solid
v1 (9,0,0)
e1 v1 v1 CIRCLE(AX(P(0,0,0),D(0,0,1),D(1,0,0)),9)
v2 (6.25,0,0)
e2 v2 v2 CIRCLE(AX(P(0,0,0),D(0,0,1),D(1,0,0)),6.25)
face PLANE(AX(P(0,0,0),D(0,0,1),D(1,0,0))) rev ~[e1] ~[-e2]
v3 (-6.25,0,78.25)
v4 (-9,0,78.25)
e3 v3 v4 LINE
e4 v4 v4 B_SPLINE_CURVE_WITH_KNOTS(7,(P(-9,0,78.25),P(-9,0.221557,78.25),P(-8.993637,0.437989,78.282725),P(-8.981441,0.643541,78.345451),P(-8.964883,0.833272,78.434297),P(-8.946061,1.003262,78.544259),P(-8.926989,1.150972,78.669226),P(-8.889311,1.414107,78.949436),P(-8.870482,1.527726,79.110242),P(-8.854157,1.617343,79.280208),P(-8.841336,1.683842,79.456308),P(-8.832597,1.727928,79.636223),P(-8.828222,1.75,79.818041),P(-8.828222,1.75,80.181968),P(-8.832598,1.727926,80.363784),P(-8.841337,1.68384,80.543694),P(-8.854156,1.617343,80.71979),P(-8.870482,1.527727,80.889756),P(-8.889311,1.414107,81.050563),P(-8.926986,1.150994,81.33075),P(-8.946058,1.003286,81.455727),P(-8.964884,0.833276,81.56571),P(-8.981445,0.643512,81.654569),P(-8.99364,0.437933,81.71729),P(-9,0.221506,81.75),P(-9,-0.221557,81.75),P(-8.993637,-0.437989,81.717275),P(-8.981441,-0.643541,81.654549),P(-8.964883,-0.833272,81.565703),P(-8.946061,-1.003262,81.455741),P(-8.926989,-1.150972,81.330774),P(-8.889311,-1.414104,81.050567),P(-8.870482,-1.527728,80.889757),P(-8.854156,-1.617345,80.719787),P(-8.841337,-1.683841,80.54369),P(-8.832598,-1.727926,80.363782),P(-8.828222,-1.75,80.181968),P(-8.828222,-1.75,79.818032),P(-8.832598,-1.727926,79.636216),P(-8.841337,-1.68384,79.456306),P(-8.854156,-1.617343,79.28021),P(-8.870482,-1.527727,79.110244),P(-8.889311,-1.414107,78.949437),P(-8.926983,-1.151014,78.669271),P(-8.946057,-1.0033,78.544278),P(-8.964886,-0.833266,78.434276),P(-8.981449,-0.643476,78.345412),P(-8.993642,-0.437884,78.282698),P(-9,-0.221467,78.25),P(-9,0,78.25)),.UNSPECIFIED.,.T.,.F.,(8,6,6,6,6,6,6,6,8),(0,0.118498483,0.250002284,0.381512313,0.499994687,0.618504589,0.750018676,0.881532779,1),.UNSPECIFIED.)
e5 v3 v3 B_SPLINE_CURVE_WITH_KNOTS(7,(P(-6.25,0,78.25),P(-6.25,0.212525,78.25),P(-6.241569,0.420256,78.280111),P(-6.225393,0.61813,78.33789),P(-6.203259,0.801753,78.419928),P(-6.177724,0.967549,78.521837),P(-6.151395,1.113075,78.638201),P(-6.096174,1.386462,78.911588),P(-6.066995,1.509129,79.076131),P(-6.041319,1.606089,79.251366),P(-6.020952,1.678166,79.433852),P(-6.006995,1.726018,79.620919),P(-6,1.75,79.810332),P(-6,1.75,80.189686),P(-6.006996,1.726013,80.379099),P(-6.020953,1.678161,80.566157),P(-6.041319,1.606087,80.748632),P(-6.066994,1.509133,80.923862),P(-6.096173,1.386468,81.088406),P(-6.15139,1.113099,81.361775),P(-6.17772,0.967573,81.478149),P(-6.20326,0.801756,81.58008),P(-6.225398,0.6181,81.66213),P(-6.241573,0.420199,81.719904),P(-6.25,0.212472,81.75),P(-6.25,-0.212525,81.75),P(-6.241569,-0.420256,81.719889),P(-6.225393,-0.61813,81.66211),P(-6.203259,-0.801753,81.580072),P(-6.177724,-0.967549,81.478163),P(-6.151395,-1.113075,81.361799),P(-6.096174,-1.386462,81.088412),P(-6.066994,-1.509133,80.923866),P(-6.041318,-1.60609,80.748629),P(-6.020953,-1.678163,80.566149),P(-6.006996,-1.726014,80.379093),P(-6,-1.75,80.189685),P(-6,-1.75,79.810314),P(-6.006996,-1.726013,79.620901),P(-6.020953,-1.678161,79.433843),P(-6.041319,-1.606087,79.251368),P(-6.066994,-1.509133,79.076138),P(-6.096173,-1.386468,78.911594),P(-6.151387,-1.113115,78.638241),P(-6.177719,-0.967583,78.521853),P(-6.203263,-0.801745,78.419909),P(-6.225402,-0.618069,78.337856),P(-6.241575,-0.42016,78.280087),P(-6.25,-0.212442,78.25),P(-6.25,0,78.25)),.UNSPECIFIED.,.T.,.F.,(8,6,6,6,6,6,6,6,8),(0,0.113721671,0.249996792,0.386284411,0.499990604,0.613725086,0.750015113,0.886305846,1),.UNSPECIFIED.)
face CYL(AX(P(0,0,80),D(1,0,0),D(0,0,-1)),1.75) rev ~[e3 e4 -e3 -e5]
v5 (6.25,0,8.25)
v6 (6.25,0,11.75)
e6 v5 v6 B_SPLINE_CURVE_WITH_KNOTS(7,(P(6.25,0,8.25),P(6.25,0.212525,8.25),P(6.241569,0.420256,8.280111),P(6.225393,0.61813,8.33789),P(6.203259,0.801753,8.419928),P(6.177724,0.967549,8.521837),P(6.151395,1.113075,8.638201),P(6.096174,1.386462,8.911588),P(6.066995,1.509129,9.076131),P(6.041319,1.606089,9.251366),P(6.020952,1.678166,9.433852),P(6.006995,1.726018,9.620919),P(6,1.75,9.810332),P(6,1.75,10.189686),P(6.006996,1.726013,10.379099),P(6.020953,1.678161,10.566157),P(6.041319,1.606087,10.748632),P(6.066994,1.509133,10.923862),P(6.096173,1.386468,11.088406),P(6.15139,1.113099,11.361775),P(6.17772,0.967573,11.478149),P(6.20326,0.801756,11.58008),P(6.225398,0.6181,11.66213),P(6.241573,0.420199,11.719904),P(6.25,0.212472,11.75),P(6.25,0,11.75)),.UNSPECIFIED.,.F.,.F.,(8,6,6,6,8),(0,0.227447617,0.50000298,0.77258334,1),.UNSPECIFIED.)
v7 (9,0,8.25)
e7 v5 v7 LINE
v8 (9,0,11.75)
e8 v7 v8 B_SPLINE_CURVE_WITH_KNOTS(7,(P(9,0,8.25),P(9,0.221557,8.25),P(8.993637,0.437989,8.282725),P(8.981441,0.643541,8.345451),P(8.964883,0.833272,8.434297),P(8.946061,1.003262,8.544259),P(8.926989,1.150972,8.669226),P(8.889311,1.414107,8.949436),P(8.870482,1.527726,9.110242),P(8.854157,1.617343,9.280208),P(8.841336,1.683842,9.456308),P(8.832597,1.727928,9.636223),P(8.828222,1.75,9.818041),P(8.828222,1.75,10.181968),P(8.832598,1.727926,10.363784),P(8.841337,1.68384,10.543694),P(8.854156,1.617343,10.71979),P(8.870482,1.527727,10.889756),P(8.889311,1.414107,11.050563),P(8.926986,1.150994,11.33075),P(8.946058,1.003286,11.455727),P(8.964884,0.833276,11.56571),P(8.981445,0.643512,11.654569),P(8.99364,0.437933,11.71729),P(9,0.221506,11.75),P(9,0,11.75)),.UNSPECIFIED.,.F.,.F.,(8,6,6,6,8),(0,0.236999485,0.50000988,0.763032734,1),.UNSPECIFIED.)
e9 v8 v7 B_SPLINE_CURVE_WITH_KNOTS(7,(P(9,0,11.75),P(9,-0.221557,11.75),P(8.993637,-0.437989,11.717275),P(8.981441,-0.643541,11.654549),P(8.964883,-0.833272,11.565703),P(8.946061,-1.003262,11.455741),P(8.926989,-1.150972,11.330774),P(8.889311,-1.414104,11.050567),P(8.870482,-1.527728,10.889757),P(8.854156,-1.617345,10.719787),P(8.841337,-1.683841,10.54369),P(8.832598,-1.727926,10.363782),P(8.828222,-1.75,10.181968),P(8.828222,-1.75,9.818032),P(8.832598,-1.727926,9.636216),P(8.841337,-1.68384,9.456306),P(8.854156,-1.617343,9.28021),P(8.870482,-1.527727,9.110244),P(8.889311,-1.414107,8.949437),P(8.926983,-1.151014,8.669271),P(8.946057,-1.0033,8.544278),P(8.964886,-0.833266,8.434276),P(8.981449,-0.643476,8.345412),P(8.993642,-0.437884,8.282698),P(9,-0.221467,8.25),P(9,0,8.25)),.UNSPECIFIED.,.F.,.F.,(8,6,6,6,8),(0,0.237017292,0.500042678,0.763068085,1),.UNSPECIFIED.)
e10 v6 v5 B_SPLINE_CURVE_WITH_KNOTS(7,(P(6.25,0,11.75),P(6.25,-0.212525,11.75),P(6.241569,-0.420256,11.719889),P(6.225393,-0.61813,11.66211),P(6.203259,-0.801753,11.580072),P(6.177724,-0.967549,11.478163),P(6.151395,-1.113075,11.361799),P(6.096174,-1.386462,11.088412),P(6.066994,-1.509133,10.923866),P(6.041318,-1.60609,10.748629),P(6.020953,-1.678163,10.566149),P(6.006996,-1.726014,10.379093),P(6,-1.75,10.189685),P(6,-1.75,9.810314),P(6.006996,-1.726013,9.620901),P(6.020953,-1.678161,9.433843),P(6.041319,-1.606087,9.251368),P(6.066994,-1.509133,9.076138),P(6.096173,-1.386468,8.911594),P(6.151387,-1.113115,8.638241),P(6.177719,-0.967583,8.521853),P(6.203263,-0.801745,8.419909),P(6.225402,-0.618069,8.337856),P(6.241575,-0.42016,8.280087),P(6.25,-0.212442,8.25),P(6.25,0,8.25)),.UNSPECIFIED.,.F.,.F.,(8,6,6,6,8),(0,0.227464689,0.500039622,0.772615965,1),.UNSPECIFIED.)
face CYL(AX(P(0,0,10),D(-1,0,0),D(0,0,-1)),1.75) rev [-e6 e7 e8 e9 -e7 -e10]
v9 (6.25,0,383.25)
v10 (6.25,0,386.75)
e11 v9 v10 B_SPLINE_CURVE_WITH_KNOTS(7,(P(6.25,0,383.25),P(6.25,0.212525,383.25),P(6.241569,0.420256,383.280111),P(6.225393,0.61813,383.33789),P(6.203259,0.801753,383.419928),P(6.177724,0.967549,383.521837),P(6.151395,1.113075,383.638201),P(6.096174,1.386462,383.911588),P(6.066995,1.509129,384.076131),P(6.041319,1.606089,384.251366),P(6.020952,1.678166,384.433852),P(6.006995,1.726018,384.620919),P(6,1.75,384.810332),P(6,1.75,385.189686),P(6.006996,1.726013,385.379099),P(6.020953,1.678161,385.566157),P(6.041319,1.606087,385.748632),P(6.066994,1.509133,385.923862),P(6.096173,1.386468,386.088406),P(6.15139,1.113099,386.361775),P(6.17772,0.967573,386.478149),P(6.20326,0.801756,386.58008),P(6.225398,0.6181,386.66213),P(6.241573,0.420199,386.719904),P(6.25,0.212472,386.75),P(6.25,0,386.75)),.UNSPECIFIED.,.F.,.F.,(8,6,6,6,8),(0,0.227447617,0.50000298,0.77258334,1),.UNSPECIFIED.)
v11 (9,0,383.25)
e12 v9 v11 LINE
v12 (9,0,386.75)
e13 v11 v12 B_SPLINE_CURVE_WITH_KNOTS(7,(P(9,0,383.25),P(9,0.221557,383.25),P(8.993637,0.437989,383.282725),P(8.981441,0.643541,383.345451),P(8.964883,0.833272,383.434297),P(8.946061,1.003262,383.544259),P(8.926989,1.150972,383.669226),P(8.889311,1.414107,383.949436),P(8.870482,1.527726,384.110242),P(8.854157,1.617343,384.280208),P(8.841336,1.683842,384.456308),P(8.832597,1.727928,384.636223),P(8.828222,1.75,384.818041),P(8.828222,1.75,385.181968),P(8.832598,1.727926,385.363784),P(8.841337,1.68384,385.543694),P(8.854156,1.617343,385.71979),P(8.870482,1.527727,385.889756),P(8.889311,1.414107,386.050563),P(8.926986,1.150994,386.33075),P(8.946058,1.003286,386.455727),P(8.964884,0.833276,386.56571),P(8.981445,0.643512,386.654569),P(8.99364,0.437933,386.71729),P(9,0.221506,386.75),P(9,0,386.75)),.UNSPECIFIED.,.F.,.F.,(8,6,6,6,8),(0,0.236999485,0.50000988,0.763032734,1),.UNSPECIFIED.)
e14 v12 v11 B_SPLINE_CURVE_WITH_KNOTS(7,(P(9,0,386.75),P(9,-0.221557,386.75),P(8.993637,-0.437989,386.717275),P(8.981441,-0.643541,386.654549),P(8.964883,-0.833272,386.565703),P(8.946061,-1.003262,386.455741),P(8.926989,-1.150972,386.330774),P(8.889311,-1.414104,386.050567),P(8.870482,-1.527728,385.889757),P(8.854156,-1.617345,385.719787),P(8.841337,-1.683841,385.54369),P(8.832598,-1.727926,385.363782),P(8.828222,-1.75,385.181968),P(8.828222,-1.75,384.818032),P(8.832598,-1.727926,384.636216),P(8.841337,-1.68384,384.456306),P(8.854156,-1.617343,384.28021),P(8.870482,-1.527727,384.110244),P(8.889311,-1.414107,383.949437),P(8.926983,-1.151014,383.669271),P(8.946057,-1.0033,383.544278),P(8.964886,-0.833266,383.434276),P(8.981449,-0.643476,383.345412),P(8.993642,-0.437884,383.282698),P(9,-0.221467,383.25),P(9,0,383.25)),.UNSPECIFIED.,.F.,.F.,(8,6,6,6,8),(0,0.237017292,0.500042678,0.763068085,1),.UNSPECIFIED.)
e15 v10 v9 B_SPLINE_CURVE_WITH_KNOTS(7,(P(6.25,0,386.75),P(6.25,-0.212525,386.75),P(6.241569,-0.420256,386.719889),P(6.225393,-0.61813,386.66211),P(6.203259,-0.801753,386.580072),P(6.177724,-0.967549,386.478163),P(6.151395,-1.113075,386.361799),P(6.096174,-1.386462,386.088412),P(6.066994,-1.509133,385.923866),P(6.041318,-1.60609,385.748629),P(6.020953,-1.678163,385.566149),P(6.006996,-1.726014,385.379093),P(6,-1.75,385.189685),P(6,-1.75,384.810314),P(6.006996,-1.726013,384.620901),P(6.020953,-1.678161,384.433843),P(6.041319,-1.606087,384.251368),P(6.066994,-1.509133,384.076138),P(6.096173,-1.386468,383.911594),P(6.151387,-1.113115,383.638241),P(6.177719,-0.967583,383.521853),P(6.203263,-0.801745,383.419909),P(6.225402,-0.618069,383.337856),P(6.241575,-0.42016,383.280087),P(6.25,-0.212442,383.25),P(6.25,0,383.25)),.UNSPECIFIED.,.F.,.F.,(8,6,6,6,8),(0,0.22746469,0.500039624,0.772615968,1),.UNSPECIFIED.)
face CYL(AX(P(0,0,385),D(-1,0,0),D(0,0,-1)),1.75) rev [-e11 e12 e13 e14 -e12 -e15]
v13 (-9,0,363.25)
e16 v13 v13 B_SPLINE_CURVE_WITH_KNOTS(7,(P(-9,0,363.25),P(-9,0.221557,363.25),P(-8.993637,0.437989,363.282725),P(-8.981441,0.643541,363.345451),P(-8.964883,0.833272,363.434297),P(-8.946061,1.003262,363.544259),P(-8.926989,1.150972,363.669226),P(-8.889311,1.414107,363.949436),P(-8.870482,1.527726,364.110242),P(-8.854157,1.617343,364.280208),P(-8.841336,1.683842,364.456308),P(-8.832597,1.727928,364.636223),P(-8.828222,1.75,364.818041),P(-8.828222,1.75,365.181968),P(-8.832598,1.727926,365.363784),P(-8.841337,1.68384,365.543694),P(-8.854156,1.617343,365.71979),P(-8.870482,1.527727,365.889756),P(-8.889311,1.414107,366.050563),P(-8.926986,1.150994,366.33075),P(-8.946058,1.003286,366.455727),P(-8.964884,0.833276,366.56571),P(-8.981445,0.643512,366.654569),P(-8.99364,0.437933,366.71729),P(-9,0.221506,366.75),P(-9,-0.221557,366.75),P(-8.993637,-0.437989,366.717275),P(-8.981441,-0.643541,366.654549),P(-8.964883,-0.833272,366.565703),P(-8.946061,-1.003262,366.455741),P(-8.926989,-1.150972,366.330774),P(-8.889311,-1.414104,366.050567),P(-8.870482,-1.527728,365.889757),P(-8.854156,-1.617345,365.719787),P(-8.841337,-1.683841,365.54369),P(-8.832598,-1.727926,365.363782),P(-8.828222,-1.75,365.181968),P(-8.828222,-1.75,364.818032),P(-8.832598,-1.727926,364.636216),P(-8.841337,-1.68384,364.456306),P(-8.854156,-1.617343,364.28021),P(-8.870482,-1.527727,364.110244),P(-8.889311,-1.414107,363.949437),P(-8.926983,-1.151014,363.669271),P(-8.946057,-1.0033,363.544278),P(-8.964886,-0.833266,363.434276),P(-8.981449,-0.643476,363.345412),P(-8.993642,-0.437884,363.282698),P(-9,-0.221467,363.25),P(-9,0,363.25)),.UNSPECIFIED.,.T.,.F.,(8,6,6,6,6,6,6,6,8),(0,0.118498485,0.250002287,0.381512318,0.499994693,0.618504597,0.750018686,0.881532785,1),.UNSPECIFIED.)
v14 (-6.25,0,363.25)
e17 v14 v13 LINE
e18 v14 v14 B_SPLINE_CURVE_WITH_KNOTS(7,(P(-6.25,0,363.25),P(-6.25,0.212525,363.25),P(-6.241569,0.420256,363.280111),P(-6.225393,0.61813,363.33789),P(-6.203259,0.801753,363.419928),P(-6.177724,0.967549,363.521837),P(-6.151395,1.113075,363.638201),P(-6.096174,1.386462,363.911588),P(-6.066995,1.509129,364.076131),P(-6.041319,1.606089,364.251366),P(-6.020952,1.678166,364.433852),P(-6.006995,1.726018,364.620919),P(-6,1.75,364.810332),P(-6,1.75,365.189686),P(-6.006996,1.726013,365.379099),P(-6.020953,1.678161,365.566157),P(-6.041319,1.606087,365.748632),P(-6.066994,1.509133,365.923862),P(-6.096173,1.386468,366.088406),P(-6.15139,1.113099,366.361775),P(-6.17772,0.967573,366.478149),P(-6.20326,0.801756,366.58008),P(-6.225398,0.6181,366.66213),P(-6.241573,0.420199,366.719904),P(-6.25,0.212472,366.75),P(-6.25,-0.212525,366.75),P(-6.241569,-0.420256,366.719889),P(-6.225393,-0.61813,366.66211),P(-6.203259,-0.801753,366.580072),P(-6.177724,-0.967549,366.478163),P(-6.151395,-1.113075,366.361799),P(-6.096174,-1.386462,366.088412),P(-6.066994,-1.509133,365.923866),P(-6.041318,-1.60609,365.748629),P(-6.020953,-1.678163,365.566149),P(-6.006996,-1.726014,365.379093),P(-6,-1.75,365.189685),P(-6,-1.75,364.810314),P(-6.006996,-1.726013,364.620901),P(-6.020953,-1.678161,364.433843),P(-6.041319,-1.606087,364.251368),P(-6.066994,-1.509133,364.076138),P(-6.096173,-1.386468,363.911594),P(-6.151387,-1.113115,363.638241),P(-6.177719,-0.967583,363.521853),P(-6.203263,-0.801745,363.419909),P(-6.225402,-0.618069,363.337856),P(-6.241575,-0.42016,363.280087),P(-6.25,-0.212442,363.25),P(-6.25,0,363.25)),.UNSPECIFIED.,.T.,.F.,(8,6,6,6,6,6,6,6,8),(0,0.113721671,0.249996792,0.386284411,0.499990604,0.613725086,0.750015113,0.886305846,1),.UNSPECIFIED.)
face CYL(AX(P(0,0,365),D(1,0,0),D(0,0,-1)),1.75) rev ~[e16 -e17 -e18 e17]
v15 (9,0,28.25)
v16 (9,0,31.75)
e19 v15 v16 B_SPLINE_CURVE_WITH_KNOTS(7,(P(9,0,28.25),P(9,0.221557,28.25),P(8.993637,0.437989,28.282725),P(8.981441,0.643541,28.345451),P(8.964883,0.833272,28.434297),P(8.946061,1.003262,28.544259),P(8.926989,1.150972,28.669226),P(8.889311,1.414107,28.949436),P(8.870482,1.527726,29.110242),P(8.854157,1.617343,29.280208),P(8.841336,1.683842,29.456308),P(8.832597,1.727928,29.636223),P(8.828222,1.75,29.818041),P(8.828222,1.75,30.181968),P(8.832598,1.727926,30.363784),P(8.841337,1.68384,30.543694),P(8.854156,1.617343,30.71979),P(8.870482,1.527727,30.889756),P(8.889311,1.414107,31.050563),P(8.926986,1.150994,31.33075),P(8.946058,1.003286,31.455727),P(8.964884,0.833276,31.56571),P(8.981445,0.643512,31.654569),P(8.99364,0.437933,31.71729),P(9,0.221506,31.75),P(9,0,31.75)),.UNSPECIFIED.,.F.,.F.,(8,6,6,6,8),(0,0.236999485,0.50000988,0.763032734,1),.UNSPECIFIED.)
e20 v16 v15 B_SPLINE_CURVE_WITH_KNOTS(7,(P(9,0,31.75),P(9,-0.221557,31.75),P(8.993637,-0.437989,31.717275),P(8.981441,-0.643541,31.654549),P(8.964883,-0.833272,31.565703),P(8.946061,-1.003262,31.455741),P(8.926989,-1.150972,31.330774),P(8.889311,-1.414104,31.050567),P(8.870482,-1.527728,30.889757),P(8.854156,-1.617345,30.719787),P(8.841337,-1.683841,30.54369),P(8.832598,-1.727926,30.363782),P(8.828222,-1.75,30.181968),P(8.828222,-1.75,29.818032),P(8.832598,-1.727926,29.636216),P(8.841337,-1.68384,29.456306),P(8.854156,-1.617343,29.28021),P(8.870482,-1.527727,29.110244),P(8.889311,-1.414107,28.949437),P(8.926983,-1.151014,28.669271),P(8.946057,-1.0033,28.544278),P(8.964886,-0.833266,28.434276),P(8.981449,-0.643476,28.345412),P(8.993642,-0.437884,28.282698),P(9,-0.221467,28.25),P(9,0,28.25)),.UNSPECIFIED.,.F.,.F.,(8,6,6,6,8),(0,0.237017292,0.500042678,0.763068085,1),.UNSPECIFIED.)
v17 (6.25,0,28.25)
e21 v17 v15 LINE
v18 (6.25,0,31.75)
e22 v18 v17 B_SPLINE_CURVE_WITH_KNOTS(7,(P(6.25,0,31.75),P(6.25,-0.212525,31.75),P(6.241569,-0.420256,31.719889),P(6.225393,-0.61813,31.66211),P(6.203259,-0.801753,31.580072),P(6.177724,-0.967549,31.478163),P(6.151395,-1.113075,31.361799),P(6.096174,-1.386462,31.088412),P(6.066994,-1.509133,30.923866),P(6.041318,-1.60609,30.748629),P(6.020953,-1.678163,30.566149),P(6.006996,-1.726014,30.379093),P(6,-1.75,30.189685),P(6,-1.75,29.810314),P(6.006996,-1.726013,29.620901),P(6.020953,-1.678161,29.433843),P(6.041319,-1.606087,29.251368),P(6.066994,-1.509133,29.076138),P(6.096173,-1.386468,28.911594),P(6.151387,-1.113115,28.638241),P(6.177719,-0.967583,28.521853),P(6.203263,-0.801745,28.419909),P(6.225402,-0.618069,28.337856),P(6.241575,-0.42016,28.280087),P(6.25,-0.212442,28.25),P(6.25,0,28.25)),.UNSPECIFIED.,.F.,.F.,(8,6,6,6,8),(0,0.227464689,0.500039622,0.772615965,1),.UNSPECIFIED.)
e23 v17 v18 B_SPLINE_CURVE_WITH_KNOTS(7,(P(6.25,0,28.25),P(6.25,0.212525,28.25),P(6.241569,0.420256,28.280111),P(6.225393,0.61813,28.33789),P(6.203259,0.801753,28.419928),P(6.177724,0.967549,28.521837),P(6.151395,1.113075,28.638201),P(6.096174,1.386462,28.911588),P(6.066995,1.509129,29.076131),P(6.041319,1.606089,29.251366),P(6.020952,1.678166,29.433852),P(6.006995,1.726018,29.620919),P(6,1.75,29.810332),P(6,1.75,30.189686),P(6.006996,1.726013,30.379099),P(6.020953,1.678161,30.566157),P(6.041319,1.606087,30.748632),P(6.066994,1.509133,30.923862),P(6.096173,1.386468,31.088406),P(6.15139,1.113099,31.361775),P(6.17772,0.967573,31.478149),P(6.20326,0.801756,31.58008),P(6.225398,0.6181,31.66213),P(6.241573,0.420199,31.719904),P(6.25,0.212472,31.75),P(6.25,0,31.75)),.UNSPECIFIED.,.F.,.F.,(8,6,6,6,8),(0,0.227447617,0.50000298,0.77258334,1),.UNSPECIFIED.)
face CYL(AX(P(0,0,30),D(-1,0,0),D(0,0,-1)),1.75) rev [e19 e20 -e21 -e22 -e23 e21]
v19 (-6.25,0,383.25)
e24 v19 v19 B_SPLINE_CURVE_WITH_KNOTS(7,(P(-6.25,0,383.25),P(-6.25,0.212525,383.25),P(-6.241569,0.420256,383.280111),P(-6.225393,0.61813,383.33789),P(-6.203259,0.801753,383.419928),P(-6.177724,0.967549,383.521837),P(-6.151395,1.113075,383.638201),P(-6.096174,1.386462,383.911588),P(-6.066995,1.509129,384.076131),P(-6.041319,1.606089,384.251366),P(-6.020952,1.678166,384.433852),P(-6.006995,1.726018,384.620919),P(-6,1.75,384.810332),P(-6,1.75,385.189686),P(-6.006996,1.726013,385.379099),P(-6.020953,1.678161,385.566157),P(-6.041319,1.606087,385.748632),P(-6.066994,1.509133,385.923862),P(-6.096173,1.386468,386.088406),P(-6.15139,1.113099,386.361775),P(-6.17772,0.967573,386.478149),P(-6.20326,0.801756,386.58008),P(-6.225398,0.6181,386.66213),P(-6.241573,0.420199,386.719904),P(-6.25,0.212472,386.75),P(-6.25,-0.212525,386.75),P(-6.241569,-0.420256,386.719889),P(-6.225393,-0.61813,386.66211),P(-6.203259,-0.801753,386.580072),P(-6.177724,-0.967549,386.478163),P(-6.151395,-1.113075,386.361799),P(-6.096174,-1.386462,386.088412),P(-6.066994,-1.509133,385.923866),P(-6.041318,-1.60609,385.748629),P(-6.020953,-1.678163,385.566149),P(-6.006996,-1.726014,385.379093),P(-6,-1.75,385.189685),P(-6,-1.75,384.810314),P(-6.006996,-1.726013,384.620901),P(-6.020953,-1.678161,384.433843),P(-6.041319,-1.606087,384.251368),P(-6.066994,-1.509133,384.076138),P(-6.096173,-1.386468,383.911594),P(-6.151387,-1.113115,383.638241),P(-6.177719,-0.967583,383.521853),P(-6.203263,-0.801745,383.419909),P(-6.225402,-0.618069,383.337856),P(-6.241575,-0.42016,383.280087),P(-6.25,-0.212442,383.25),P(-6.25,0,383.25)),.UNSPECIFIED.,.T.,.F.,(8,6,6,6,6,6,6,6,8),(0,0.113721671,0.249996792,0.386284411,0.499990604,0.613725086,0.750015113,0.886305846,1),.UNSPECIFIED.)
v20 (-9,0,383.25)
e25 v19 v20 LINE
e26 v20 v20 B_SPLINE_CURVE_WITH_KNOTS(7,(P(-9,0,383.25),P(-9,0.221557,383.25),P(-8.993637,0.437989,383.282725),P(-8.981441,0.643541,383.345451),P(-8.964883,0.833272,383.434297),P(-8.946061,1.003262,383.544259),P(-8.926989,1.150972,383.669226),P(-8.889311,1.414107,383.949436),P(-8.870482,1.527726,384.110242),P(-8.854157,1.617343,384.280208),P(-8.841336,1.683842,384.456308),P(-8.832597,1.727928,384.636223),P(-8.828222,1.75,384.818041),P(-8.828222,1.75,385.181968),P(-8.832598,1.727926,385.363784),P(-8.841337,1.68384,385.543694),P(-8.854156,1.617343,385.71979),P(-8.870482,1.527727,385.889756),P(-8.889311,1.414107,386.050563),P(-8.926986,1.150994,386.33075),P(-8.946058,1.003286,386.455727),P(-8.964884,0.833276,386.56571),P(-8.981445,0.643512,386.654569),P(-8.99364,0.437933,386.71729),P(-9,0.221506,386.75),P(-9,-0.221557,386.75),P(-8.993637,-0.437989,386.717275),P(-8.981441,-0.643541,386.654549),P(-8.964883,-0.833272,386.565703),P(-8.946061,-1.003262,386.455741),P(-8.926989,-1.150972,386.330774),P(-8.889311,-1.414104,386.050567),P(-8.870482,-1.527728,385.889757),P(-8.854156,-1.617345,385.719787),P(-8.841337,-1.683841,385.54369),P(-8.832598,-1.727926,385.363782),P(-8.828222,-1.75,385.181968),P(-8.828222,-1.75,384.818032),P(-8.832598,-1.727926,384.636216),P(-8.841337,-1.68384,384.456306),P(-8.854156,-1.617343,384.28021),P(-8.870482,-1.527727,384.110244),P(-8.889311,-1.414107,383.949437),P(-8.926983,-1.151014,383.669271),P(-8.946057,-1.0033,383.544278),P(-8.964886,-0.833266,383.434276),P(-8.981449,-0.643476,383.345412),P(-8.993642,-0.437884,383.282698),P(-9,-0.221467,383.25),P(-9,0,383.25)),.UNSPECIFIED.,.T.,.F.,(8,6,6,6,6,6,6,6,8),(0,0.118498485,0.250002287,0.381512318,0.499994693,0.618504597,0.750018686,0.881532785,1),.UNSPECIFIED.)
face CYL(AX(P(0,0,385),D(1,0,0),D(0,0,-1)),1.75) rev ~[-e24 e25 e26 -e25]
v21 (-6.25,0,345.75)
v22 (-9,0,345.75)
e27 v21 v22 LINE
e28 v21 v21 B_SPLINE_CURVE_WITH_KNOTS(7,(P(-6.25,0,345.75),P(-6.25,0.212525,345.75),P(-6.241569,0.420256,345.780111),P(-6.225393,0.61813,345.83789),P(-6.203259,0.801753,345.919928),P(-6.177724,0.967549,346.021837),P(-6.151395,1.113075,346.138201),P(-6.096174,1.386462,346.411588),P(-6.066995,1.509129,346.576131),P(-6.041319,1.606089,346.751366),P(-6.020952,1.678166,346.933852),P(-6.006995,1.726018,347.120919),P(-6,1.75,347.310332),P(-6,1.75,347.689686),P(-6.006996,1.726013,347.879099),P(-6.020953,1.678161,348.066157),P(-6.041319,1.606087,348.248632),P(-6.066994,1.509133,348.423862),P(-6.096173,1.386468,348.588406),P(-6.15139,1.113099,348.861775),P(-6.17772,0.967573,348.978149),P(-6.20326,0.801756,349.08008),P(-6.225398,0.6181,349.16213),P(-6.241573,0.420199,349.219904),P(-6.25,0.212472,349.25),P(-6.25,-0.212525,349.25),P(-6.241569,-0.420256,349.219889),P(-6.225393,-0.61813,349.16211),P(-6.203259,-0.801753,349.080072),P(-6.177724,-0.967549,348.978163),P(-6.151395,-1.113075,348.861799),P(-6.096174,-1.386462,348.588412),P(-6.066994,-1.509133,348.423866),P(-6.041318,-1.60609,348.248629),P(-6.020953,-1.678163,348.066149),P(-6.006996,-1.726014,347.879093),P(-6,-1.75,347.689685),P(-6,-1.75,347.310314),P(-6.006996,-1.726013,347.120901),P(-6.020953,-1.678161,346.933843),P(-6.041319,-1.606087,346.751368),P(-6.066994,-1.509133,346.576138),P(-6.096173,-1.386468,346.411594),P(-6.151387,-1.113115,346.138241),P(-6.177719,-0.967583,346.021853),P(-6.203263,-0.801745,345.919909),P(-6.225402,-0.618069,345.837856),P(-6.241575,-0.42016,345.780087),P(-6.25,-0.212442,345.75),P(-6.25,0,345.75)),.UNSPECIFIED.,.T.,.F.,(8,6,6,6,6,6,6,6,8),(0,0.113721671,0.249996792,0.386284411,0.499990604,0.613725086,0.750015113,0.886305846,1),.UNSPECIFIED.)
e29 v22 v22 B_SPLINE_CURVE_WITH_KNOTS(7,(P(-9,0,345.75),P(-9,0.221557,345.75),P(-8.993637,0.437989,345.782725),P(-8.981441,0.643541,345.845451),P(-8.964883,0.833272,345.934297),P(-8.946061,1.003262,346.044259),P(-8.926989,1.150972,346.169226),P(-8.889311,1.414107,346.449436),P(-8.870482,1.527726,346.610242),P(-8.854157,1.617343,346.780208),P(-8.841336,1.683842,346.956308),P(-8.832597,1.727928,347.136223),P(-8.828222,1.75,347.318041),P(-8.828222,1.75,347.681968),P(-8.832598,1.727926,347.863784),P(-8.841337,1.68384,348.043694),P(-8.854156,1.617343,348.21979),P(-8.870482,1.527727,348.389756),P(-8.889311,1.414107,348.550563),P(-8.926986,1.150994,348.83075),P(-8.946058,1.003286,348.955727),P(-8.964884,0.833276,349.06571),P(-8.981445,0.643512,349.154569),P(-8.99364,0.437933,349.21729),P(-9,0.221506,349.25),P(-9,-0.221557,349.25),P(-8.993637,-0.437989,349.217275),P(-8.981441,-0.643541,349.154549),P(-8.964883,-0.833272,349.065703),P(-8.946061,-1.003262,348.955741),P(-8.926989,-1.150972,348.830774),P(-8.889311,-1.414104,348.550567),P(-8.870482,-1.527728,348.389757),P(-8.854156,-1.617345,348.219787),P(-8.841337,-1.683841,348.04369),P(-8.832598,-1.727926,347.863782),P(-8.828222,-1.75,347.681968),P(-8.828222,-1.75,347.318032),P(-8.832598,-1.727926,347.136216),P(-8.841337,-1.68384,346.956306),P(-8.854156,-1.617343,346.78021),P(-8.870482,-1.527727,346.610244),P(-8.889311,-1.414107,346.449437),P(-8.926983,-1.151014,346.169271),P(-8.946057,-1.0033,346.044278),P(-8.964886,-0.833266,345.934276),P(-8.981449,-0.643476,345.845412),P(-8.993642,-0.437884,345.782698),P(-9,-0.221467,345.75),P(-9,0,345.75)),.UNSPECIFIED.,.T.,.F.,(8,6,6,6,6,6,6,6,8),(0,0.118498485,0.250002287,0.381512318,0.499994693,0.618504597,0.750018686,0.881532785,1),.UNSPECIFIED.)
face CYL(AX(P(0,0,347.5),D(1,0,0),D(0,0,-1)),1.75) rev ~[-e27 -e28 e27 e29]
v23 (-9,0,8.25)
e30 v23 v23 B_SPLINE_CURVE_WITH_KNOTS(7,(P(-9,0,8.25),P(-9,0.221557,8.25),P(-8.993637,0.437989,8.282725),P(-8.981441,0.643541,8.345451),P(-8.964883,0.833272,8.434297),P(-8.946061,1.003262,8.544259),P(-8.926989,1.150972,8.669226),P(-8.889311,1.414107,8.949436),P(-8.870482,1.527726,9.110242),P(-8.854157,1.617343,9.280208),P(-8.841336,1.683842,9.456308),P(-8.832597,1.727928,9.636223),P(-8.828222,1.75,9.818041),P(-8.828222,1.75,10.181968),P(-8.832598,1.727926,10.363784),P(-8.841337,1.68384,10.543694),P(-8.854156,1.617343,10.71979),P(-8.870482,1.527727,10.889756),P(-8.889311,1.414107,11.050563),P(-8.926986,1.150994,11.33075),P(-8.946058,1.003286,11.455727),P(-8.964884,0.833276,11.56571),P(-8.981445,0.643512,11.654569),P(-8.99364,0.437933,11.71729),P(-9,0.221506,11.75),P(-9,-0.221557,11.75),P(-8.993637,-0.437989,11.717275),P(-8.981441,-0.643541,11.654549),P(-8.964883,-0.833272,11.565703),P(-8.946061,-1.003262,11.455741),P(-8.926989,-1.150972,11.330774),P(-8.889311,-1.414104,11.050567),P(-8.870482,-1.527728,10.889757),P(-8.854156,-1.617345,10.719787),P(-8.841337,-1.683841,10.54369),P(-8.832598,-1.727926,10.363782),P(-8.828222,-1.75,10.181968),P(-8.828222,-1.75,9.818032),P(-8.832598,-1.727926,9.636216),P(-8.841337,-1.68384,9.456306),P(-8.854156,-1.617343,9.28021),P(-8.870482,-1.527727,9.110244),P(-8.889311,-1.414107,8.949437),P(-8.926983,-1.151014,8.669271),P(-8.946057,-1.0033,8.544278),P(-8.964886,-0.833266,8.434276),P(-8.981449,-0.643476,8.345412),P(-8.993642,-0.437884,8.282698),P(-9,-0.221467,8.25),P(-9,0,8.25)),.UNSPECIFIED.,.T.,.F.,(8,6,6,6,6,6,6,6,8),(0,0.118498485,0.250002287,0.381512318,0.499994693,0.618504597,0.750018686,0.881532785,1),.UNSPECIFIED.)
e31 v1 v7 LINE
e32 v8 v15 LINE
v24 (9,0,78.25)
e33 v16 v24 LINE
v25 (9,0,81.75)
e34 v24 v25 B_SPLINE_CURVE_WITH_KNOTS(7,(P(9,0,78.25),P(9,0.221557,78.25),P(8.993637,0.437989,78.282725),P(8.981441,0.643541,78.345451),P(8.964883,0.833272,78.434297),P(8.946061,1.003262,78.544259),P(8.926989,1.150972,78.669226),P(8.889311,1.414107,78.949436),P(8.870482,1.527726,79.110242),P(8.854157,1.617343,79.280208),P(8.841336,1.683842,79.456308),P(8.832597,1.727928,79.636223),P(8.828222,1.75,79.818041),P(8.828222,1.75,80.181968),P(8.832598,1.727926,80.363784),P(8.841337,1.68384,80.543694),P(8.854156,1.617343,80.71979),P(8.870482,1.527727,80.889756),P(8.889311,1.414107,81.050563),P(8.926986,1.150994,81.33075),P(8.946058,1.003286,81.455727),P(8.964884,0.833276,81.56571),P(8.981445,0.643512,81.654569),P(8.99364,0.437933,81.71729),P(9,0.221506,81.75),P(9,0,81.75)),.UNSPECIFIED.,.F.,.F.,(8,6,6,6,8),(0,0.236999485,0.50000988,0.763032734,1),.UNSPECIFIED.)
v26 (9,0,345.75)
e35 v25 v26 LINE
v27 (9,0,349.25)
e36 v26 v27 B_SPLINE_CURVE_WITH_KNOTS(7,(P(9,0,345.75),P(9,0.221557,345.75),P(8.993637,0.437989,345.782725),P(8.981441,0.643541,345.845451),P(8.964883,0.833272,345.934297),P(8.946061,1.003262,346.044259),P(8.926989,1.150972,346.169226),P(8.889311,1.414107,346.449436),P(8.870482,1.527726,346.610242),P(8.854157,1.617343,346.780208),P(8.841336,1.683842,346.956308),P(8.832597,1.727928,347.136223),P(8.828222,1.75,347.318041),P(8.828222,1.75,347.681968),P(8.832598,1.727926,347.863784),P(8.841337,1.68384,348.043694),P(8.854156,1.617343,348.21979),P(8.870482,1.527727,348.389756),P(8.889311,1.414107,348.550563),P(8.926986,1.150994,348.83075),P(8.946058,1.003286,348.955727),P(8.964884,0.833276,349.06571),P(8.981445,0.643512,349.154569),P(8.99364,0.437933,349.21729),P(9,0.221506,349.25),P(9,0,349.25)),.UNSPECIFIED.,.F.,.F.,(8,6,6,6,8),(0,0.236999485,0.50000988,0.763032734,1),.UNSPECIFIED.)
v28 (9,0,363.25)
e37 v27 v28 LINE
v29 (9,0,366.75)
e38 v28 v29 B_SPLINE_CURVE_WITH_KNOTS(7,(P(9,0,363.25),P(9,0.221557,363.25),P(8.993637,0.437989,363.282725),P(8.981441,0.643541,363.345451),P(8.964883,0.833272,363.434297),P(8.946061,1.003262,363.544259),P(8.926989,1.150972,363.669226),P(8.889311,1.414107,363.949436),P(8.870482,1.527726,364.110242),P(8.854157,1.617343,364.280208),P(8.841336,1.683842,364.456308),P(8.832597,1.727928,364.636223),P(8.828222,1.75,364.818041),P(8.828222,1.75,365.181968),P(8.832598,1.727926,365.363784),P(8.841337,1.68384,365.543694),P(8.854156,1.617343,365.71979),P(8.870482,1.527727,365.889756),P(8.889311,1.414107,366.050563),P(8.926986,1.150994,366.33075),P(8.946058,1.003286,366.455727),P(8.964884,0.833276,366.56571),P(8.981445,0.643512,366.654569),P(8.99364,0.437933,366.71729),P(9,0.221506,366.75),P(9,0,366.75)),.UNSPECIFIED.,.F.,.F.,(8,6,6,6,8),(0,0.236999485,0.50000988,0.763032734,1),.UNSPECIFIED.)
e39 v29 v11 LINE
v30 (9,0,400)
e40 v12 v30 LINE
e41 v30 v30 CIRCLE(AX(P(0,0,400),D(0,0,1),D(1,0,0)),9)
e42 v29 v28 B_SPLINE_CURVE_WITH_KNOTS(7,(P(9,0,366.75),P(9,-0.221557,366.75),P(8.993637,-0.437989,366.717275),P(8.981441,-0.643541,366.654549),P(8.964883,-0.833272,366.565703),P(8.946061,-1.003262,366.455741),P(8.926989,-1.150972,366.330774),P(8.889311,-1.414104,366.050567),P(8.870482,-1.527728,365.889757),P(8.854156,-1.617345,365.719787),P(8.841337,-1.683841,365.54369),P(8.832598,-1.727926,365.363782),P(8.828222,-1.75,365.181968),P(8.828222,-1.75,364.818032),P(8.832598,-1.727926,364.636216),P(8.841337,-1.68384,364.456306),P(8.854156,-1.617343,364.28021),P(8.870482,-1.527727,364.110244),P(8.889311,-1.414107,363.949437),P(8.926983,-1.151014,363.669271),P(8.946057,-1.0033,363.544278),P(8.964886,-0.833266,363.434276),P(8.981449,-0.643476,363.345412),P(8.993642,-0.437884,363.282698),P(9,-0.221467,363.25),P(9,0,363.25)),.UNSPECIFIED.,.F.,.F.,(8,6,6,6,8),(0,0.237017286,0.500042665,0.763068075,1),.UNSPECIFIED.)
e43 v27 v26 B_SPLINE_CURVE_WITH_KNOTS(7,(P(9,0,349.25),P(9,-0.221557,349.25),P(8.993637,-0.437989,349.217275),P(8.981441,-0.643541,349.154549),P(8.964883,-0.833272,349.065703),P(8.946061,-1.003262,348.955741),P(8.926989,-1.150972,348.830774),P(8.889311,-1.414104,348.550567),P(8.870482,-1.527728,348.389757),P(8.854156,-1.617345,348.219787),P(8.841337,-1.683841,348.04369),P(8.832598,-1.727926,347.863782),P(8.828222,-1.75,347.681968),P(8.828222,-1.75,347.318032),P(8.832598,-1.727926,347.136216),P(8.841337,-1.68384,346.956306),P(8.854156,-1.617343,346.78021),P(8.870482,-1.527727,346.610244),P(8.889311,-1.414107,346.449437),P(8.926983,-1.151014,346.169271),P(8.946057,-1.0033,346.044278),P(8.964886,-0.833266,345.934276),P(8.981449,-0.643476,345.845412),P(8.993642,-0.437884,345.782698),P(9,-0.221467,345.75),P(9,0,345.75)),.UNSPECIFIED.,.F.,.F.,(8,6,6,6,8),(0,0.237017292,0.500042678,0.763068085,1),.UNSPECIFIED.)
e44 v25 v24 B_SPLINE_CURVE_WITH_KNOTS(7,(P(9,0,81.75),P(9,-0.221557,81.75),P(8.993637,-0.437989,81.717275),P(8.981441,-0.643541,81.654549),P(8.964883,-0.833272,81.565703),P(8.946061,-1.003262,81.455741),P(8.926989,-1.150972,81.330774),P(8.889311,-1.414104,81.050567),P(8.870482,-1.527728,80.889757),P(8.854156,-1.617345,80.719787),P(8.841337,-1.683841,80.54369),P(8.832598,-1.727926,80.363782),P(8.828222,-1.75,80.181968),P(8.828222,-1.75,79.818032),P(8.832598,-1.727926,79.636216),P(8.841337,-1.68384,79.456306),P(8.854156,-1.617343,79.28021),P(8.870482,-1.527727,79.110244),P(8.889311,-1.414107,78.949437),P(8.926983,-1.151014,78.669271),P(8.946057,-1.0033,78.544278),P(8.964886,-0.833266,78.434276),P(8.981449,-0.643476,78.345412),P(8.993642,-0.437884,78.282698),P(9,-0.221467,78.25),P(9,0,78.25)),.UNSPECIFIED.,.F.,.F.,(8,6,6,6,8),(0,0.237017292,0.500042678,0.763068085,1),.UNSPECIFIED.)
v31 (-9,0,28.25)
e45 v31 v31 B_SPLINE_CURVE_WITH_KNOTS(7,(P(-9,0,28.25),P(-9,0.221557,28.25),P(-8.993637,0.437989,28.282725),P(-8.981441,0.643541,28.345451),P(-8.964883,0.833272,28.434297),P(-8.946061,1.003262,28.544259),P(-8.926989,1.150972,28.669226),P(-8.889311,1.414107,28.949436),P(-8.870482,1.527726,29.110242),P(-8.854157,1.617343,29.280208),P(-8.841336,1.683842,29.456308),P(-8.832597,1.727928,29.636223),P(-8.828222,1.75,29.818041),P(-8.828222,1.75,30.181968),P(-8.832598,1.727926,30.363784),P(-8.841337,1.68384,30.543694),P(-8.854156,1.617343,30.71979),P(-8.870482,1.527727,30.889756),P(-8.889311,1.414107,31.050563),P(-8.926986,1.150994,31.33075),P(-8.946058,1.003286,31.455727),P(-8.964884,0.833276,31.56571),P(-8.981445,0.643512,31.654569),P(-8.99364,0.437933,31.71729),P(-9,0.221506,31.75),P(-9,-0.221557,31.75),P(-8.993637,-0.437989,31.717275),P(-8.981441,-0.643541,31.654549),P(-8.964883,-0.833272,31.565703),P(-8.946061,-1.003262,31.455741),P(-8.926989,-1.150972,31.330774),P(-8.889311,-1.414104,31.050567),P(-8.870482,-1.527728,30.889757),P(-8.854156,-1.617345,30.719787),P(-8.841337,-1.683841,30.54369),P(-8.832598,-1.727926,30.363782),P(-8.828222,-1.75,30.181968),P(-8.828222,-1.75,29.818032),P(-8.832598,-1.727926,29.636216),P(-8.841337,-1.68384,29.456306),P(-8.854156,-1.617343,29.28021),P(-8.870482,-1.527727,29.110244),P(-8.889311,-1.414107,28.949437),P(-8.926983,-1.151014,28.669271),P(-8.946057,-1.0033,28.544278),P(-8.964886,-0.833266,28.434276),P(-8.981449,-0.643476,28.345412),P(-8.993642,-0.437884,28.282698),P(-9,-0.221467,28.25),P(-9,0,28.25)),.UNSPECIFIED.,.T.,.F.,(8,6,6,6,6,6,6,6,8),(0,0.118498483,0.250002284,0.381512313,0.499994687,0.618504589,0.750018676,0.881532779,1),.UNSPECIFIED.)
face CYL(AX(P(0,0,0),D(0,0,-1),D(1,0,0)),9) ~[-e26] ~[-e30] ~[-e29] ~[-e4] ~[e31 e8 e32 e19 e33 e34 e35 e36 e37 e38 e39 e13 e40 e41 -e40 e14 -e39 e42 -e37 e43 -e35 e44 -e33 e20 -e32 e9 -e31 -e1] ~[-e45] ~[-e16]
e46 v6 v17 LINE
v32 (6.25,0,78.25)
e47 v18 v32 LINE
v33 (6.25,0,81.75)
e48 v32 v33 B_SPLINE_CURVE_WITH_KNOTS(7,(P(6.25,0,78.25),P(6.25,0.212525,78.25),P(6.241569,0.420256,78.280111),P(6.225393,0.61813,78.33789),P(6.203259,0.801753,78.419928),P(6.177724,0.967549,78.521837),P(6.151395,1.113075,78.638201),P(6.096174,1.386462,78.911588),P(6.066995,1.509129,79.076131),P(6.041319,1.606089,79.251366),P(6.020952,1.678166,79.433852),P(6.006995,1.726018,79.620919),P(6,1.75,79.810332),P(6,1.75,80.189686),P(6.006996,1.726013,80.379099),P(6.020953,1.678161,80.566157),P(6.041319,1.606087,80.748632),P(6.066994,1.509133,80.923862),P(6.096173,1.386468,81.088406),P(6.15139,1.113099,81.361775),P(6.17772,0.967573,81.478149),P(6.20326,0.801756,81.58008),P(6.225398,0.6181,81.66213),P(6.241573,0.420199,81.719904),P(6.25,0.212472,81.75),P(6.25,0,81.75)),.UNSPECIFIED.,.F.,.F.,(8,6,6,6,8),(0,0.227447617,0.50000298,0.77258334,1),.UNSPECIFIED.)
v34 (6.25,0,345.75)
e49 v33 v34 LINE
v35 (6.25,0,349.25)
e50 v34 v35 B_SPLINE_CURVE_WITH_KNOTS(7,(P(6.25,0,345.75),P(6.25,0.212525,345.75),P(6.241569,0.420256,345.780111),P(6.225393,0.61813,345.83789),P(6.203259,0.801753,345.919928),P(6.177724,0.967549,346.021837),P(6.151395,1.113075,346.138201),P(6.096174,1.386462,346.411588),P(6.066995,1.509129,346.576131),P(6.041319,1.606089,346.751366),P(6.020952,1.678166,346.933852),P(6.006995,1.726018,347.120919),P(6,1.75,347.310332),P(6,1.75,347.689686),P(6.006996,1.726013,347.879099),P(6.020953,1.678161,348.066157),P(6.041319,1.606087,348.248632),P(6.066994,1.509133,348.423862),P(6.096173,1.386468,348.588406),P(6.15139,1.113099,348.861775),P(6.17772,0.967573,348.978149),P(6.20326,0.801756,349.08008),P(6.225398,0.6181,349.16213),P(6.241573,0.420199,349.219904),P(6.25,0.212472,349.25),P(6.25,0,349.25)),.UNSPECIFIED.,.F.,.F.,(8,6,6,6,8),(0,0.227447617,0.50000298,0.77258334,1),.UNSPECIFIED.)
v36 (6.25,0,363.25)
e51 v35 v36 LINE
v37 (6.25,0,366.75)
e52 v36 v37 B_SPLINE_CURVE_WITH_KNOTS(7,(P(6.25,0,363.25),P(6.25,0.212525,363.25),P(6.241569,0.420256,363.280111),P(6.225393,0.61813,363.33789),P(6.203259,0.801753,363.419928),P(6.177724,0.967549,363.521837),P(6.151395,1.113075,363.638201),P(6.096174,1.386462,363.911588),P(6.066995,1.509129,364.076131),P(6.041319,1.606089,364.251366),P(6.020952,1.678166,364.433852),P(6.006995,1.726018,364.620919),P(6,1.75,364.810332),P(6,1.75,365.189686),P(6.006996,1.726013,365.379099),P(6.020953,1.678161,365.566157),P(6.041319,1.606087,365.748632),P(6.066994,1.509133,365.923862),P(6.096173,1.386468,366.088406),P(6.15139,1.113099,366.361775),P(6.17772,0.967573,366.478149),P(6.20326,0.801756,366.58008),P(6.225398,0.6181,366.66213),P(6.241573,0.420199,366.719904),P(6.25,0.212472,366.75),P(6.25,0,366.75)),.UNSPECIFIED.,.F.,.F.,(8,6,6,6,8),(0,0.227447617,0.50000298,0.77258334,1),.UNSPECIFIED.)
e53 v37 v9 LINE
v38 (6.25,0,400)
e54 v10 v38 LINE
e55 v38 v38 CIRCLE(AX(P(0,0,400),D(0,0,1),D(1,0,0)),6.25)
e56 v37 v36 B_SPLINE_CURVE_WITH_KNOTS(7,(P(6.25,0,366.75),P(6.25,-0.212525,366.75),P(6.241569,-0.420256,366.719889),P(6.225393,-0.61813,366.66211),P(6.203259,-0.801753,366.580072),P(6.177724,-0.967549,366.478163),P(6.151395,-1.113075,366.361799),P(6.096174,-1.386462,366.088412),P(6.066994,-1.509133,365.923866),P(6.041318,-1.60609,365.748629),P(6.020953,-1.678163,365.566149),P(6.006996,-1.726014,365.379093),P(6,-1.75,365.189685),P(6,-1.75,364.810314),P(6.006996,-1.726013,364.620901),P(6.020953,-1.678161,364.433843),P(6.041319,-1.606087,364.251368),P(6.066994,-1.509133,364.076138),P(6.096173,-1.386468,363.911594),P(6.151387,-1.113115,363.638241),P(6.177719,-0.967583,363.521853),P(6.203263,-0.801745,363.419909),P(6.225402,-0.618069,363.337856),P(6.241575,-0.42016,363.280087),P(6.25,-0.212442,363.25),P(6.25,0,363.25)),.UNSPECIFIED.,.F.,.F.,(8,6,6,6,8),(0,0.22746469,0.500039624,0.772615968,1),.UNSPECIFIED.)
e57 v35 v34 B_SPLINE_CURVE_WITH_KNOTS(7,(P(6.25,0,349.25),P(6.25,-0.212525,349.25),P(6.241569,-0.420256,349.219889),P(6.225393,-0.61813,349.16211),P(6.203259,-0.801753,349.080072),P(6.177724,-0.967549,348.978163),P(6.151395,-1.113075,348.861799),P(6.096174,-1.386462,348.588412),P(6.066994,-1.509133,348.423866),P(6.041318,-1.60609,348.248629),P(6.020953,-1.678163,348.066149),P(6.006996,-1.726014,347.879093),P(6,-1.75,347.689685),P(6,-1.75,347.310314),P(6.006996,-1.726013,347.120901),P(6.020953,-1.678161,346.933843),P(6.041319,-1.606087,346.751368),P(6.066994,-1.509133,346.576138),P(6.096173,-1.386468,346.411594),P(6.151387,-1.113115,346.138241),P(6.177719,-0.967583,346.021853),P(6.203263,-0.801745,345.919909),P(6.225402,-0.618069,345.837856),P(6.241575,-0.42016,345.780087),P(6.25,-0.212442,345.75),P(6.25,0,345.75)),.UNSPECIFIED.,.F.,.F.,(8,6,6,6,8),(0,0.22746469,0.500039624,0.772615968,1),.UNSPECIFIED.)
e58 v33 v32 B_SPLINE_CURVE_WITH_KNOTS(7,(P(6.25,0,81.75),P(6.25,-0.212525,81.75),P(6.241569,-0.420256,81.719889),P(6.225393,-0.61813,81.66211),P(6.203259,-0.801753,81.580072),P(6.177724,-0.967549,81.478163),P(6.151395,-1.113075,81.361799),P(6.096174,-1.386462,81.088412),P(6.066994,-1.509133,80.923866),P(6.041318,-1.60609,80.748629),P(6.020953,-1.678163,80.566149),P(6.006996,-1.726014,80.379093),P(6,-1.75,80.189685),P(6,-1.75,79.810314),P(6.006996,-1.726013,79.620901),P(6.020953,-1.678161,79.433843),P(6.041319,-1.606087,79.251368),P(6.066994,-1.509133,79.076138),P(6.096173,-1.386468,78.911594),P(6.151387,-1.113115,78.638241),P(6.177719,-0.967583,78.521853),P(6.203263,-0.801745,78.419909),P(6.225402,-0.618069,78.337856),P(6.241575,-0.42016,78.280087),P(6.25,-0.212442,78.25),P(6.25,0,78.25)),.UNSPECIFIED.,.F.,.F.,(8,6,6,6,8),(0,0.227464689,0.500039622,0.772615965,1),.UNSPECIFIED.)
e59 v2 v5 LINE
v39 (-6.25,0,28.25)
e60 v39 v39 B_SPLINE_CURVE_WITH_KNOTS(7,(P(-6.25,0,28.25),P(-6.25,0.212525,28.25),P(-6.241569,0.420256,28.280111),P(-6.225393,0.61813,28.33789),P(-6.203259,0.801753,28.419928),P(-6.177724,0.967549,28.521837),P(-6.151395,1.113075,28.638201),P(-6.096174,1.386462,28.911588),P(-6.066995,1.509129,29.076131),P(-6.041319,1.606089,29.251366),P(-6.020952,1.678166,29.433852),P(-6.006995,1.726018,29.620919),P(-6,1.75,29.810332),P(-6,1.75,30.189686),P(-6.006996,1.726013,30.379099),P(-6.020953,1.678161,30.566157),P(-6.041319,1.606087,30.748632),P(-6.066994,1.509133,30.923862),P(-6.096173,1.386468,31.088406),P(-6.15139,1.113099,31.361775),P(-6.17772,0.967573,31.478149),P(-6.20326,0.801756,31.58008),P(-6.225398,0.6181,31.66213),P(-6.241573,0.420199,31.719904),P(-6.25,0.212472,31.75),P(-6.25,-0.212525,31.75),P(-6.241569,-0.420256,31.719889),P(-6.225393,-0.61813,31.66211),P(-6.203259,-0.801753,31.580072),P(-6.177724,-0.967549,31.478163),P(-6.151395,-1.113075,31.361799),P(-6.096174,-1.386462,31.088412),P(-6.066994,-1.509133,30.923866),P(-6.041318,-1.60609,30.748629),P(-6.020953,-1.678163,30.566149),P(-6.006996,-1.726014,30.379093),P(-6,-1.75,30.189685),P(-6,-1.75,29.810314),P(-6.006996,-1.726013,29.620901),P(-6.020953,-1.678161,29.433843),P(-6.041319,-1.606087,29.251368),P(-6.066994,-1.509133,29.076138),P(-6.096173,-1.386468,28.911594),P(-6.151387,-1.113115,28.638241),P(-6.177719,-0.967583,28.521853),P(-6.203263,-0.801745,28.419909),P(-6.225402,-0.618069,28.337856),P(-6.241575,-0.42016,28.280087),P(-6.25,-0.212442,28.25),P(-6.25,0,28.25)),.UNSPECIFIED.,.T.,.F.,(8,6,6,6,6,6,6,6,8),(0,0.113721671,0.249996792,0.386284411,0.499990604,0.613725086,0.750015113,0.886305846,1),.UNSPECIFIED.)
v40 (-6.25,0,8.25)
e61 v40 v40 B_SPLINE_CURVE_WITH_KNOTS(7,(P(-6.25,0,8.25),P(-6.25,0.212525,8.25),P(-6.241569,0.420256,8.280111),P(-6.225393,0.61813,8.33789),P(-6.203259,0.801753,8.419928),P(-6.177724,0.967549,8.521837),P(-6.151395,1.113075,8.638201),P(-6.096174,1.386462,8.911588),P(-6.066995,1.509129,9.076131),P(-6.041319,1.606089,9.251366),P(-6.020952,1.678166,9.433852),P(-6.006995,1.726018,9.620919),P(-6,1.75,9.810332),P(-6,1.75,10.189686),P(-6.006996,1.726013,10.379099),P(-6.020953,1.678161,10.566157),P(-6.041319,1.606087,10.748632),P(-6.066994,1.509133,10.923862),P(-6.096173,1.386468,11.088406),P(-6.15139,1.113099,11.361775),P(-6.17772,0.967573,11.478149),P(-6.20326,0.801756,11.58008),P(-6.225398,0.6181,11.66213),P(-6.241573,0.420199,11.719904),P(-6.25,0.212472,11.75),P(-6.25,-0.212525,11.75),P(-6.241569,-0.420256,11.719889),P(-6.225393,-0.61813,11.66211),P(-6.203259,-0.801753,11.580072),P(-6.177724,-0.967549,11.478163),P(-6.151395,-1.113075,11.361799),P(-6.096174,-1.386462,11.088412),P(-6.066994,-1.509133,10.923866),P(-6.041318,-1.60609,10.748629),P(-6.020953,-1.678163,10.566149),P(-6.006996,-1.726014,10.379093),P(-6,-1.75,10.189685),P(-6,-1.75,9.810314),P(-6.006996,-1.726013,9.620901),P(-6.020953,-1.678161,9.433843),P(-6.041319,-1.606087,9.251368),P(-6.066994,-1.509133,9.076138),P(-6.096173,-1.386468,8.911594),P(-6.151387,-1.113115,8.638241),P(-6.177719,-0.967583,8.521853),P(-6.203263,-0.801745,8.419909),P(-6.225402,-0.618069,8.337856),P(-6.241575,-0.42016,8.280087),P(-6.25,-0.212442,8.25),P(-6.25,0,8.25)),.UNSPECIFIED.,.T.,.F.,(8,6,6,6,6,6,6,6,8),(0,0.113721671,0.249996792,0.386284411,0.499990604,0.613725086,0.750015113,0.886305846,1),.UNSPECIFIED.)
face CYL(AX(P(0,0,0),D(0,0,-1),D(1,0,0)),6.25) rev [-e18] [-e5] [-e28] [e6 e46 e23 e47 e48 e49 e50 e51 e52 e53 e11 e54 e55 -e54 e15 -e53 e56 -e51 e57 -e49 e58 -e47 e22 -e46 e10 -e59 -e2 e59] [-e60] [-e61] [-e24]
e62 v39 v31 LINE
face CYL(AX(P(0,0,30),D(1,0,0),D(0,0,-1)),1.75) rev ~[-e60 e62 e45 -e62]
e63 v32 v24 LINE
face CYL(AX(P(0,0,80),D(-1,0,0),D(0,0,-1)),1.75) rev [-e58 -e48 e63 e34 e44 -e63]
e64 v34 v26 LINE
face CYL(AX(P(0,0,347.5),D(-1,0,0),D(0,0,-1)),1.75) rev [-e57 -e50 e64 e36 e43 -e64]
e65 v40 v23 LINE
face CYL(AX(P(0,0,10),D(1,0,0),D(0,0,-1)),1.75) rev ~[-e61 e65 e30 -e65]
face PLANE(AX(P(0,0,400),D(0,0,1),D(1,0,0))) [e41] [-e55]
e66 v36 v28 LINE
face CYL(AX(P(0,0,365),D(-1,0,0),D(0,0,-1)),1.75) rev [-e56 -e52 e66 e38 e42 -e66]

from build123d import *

# Parameters (mm, degrees)
SKETCH_1_R               = 9
SKETCH_1_R_2             = 6.25
EXTRUDE_1_DEPTH          = 400
SKETCH_2_R               = 1.75
CUT_EXTRUDE_1_DEPTH      = 10
CUT_EXTRUDE_1_DEPTH_BACK = 10


with BuildPart() as part:
    # ｽｹｯﾁ1 → ﾎﾞｽ - 押し出し1 (new body)
    with BuildSketch(Plane.XY):
        Circle(SKETCH_1_R)
        Circle(SKETCH_1_R_2, mode=Mode.SUBTRACT)
    extrude(amount=EXTRUDE_1_DEPTH)

    # ｽｹｯﾁ2 → ｶｯﾄ - 押し出し1 (cut, two sides)
    with BuildSketch(Plane(origin=(0, 0, 0), x_dir=(0, 0, -1), z_dir=(1, 0, 0))) as cut_extrude_1_sk:
        with Locations((-10, 0)):
            Circle(SKETCH_2_R)
        with Locations((-385, 0)):
            Circle(SKETCH_2_R)
        with Locations((-30, 0)):
            Circle(SKETCH_2_R)
        with Locations((-365, 0)):
            Circle(SKETCH_2_R)
        with Locations((-347.5, 0)):
            Circle(SKETCH_2_R)
        with Locations((-80, 0)):
            Circle(SKETCH_2_R)
    extrude(amount=CUT_EXTRUDE_1_DEPTH, mode=Mode.SUBTRACT)
    extrude(cut_extrude_1_sk.sketch, amount=-CUT_EXTRUDE_1_DEPTH_BACK, mode=Mode.SUBTRACT)


solid = part.part
